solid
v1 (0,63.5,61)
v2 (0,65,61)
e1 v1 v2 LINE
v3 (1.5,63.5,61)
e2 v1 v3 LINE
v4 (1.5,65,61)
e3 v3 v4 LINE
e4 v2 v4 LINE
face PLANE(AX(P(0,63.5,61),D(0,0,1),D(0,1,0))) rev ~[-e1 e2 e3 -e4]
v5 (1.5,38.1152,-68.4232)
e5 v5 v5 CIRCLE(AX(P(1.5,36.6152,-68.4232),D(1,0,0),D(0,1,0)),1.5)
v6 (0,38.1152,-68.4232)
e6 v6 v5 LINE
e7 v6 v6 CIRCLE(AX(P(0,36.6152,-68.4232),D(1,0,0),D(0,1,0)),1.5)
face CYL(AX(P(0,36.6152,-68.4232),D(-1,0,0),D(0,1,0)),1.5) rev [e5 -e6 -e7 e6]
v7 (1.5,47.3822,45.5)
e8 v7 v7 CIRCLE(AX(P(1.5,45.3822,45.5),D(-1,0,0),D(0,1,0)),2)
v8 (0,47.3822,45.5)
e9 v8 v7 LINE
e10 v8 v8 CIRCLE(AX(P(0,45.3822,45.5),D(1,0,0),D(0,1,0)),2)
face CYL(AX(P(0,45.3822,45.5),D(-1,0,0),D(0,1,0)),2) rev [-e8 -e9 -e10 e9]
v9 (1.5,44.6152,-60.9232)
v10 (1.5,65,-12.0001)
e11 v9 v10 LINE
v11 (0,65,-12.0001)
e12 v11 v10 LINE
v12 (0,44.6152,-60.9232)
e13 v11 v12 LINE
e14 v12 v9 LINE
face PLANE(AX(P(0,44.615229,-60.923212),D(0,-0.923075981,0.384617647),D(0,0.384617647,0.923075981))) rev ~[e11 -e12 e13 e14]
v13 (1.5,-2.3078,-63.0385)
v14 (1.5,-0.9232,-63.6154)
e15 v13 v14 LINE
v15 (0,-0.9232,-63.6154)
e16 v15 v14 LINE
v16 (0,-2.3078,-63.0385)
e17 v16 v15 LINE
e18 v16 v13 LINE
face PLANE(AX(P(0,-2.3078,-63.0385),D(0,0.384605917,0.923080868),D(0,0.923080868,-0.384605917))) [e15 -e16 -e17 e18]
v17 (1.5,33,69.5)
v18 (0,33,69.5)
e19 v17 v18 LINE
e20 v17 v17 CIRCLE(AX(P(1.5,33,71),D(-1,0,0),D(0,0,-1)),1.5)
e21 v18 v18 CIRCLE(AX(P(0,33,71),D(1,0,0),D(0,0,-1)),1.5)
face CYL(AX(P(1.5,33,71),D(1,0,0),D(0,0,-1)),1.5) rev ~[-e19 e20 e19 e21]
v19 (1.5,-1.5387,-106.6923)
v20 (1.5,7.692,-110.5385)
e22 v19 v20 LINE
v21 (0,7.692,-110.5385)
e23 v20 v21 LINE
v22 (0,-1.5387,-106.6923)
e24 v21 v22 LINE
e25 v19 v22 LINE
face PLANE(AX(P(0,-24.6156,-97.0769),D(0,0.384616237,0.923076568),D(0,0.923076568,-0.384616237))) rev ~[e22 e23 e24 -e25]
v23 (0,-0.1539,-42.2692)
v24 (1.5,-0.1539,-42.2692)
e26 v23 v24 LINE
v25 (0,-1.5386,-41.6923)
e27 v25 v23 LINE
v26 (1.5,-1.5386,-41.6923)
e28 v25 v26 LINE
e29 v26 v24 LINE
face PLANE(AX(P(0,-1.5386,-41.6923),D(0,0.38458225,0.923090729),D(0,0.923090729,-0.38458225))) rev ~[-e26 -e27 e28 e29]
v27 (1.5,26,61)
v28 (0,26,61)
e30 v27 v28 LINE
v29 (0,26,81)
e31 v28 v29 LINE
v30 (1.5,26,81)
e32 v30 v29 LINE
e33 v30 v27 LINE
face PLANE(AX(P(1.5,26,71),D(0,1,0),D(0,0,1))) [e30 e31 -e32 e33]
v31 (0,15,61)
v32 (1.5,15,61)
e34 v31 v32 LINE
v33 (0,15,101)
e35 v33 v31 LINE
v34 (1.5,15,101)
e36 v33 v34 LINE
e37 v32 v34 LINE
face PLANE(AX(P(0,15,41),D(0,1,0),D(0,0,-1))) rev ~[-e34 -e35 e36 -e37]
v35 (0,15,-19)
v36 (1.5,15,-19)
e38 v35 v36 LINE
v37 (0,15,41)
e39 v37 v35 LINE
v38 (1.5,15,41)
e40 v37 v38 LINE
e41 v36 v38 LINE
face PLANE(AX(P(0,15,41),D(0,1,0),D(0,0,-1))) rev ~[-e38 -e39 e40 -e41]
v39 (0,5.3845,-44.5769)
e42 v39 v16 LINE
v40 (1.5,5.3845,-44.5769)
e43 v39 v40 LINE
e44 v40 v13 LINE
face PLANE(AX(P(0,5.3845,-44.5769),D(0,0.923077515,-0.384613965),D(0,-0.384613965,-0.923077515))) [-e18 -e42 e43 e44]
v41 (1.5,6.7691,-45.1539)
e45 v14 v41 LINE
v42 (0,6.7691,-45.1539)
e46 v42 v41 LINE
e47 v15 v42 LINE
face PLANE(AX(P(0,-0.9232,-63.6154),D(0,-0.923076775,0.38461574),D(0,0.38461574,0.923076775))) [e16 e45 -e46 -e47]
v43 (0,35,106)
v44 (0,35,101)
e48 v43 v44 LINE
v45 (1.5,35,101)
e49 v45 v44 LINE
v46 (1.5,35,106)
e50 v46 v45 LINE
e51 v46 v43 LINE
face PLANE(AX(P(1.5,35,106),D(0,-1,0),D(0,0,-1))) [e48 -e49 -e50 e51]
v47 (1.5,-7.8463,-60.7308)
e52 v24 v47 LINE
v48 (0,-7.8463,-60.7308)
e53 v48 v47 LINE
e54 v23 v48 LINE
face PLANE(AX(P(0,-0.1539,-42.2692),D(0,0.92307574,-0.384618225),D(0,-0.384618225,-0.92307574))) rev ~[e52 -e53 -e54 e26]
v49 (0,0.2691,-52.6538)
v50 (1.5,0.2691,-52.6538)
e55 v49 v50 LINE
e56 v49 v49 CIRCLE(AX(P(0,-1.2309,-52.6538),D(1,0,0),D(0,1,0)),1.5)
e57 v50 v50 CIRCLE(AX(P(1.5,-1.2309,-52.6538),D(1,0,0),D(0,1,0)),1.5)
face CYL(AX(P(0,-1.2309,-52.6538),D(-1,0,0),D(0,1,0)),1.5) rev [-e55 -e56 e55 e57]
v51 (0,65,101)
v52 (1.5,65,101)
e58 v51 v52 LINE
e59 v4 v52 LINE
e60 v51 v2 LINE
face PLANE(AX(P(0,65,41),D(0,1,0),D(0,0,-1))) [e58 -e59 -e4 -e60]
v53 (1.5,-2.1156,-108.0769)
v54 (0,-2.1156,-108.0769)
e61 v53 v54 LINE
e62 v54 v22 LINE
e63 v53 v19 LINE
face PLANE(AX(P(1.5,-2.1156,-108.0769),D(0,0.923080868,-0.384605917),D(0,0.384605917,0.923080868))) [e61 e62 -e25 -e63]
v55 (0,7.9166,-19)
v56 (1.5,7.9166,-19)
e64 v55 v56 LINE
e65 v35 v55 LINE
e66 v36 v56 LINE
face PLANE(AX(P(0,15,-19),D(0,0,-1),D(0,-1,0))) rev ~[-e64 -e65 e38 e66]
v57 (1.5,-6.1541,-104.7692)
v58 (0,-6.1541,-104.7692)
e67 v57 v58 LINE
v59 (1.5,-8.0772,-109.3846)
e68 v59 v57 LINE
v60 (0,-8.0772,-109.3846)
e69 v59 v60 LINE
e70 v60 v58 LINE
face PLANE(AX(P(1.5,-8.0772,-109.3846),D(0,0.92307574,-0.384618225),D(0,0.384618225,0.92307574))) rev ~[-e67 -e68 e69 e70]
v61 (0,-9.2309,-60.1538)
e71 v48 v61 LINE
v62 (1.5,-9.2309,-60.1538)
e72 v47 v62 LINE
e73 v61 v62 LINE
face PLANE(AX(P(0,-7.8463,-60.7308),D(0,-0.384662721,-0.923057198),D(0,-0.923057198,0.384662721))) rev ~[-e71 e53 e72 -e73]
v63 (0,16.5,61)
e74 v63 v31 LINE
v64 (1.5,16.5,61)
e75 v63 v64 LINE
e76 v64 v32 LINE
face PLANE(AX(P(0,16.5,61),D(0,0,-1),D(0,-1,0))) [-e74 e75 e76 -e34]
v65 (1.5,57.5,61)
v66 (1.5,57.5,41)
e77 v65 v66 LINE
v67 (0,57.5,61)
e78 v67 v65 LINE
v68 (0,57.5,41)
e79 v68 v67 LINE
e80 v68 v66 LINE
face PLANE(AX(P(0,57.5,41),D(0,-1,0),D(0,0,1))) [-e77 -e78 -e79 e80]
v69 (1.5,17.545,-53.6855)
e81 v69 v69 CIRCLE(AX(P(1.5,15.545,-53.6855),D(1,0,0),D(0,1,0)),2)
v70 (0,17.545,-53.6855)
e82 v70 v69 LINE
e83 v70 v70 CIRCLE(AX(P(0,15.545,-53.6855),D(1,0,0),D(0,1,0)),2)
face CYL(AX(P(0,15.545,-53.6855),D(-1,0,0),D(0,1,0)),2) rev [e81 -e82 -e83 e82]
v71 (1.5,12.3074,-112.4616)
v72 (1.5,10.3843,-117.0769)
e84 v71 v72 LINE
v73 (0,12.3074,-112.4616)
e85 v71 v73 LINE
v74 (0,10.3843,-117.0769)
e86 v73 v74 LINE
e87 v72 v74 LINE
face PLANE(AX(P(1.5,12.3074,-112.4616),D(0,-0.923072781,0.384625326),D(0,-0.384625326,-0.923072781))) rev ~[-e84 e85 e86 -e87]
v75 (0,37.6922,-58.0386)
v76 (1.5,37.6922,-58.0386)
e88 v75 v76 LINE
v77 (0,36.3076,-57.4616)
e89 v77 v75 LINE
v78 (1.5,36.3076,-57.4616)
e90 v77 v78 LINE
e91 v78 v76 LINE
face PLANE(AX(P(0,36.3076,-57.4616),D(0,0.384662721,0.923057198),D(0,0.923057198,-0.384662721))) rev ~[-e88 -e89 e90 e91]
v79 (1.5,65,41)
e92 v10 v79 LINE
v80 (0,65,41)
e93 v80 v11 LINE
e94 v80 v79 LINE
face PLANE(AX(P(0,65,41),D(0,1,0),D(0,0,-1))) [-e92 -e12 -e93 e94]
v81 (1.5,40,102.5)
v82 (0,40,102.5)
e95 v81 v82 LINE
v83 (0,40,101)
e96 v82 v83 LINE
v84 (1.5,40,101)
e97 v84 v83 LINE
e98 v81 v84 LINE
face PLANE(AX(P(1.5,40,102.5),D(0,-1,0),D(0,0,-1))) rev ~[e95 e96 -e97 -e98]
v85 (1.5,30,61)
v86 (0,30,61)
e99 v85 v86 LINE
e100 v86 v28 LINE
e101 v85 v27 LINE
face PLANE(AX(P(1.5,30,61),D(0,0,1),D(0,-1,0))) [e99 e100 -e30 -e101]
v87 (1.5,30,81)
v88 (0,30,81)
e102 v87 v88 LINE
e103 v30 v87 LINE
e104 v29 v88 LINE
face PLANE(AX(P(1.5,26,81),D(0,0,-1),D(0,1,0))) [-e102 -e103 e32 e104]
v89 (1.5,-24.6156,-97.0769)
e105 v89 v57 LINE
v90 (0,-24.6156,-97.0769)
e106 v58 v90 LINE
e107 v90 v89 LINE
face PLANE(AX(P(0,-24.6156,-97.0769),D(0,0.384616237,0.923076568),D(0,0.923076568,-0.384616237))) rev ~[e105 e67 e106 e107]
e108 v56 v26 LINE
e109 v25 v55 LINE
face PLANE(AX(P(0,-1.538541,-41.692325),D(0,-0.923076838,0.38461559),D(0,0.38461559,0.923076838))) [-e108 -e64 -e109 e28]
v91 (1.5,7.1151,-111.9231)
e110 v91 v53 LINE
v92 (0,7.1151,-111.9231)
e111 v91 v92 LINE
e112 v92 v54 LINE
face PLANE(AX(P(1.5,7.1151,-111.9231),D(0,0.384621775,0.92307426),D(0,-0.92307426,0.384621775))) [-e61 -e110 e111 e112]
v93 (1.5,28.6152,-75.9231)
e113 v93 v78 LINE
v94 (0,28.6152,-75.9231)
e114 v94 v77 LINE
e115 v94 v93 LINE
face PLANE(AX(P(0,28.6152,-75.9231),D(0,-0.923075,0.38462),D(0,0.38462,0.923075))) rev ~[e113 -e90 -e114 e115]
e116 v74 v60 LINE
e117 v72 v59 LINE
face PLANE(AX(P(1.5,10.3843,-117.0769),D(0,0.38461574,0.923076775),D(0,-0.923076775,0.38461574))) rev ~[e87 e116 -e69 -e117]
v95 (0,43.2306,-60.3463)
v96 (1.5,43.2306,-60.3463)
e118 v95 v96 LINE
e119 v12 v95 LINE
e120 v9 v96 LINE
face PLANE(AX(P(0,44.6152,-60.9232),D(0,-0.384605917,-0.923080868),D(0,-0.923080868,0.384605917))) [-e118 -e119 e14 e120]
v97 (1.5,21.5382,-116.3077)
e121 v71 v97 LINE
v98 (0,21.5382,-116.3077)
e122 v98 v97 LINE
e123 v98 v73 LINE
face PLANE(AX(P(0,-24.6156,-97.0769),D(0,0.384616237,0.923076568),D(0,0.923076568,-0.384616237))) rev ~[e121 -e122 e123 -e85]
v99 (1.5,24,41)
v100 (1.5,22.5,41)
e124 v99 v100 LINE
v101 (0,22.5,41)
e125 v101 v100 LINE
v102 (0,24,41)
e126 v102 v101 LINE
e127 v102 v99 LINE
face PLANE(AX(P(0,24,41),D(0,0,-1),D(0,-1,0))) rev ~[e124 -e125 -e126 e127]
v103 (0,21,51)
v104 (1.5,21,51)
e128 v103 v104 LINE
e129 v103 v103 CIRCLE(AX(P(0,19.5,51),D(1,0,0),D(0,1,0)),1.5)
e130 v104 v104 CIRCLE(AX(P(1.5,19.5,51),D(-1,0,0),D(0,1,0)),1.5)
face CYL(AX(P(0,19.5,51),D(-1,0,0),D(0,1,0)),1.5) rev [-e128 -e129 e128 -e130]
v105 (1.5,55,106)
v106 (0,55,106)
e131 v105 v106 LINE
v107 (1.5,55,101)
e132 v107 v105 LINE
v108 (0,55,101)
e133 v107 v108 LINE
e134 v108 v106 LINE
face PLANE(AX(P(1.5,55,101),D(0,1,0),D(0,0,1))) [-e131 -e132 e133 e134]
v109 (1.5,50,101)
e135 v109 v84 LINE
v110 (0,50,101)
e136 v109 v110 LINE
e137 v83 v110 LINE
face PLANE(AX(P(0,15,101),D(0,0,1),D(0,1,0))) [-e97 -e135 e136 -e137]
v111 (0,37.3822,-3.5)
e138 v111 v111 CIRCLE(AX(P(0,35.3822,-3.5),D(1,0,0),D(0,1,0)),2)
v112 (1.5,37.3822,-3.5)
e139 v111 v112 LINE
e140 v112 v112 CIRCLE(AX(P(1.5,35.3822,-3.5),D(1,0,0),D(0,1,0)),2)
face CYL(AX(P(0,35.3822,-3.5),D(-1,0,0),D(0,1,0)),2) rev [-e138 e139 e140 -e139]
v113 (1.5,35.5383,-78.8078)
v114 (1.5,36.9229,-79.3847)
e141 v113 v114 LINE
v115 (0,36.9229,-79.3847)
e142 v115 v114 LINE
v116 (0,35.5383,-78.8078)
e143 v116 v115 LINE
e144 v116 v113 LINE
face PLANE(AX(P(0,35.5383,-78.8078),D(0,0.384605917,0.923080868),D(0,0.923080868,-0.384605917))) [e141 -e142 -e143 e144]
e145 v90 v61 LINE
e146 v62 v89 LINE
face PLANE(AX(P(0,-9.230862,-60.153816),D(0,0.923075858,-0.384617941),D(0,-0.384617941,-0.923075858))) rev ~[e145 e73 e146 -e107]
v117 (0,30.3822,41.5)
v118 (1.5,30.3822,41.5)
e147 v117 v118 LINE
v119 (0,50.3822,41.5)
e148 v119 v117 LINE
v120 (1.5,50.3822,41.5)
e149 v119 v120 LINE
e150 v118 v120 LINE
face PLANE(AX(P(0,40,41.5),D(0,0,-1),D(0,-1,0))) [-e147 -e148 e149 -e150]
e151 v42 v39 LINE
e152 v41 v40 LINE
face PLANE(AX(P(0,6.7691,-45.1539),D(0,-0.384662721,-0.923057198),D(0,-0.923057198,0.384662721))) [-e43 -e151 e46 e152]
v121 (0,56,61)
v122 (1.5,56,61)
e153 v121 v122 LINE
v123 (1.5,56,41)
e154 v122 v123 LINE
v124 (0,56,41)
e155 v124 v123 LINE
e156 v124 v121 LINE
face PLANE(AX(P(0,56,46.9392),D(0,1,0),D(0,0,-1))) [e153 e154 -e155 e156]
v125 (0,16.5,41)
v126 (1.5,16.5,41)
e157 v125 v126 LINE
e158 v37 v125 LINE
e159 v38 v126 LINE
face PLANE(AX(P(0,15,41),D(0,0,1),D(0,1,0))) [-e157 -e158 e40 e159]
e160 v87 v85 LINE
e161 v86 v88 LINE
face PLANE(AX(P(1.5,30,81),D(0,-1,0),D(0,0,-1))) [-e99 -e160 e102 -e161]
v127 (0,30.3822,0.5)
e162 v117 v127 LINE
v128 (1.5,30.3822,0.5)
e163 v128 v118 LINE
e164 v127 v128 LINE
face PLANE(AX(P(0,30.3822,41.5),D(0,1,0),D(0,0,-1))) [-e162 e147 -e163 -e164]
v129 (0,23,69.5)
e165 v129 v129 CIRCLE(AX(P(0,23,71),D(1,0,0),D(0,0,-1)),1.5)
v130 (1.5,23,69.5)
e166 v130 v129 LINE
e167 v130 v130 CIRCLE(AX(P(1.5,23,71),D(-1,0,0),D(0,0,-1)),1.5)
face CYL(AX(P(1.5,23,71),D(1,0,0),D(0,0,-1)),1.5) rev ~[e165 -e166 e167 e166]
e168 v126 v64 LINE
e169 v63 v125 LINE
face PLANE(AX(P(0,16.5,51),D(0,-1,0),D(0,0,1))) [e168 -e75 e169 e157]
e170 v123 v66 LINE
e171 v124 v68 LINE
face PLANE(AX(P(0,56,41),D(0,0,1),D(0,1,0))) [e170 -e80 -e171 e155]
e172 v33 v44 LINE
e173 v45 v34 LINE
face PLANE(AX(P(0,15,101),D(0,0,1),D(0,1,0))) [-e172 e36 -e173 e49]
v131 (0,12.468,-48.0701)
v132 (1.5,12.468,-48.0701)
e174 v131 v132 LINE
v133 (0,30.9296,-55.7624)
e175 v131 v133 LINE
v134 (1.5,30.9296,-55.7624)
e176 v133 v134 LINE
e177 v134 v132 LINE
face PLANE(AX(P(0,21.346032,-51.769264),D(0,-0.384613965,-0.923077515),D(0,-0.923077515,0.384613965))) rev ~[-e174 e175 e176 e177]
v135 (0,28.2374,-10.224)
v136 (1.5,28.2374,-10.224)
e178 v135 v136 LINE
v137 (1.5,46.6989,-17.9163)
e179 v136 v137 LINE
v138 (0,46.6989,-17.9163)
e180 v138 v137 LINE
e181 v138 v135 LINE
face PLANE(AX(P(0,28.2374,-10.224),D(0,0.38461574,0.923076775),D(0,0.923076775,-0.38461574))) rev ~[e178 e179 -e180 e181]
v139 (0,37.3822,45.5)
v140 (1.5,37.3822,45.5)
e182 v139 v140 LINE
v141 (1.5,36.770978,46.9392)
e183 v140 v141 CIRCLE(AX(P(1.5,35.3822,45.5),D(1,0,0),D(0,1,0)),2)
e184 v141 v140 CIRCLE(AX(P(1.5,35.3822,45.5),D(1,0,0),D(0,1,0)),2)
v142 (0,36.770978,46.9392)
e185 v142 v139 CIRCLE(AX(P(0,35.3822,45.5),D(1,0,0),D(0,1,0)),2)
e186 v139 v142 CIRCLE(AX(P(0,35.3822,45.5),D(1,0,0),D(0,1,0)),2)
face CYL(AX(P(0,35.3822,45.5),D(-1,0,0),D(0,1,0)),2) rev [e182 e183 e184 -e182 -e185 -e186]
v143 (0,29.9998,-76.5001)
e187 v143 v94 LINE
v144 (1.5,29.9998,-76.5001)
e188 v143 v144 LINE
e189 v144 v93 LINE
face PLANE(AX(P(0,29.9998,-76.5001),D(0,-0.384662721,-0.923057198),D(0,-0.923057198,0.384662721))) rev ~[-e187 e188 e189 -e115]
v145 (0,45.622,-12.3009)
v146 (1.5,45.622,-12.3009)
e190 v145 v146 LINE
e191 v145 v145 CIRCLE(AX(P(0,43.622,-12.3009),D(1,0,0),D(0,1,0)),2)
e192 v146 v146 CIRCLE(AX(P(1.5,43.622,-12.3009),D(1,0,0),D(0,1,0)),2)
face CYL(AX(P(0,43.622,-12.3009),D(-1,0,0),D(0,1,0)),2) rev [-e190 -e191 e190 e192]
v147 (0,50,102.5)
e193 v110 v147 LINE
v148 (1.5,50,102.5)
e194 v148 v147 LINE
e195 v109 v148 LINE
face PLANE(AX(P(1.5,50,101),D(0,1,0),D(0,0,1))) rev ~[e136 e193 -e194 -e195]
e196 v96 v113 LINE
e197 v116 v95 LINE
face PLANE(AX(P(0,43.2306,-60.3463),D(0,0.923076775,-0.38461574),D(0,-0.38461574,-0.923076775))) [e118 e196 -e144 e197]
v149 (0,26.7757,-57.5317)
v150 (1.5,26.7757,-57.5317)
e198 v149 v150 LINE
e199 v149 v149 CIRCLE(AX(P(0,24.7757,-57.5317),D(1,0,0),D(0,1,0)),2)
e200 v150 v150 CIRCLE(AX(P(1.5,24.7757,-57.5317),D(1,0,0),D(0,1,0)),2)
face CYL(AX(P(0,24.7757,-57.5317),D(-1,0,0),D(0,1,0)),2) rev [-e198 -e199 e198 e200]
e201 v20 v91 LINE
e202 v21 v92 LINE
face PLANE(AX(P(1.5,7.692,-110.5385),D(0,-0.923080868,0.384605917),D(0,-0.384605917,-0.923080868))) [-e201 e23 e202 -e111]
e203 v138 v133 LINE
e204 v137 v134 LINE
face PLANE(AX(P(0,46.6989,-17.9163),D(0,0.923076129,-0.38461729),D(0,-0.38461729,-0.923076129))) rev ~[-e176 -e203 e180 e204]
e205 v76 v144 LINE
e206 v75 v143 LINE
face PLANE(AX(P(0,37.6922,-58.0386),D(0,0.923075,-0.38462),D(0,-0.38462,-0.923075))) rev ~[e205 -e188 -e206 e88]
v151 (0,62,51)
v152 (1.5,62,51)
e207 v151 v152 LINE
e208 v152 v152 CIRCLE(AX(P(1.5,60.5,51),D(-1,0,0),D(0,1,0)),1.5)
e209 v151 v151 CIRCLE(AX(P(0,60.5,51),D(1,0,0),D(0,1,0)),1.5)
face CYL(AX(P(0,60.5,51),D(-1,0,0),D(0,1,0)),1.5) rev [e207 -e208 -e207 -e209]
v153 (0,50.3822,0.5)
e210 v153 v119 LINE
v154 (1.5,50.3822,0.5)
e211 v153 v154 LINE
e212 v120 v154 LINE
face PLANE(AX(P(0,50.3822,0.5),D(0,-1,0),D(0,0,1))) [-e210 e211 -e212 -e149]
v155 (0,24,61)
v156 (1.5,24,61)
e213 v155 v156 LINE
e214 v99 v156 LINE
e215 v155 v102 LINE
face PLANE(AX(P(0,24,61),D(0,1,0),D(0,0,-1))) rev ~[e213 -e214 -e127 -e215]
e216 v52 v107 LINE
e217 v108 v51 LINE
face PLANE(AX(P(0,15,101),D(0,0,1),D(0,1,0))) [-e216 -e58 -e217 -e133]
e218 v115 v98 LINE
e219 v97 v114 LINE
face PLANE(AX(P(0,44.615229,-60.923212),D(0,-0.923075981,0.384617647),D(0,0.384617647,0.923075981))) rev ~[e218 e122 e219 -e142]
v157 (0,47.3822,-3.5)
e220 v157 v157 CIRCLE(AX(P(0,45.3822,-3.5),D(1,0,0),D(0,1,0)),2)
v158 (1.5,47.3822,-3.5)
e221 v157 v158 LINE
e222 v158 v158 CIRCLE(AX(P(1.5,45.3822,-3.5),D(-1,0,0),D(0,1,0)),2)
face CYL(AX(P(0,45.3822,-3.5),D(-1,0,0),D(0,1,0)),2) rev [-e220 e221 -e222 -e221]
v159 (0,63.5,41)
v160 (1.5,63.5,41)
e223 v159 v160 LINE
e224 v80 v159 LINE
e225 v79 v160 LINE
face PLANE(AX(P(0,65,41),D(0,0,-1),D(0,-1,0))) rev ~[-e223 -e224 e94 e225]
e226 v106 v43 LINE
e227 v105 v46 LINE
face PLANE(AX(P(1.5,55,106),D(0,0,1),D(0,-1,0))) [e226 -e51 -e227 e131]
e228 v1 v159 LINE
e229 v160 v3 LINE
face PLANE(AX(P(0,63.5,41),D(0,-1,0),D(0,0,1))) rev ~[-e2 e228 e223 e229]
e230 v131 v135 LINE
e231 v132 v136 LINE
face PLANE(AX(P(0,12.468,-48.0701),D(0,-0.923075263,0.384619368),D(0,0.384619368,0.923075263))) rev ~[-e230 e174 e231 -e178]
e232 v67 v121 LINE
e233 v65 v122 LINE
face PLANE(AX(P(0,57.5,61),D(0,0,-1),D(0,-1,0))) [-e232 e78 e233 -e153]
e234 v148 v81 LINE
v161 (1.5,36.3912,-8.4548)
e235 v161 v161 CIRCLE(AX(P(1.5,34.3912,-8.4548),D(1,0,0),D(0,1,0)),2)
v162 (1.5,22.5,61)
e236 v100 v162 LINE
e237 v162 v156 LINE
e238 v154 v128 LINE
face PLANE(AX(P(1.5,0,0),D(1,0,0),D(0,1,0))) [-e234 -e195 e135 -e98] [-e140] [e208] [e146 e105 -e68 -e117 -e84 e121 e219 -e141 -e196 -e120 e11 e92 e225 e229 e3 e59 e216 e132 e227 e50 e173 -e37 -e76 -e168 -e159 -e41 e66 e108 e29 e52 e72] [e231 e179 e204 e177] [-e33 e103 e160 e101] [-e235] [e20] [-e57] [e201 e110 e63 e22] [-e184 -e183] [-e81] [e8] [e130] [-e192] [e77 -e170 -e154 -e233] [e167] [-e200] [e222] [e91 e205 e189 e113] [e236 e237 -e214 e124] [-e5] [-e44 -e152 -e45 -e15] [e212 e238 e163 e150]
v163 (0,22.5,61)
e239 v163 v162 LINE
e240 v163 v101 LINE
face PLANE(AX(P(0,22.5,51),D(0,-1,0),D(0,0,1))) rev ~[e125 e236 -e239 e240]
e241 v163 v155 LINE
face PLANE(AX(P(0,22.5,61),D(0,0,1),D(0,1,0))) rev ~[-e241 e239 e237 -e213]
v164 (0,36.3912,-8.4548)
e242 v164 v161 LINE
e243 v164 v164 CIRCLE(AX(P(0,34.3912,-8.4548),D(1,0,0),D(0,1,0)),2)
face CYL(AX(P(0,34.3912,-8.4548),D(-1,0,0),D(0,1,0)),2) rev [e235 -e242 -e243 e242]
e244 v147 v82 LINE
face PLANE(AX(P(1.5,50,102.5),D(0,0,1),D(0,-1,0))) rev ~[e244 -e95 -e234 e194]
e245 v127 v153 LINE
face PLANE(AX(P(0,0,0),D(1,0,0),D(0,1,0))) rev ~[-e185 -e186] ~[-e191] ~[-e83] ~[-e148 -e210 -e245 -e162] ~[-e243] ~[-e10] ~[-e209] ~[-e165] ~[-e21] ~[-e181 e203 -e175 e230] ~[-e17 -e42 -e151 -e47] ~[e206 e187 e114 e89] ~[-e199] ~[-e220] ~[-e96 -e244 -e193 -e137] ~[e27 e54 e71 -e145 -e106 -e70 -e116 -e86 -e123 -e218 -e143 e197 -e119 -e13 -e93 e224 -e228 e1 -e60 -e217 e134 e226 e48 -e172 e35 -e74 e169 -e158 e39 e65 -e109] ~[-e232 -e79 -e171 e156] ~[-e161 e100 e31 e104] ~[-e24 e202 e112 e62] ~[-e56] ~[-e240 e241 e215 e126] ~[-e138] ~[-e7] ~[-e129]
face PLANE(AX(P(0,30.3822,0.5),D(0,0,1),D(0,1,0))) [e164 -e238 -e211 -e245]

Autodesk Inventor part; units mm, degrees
ref_plane "YZ Plane" through (0, 0, 0) normal (1, 0, 0) x (0, 1, 0)
ref_plane "XZ Plane" through (0, 0, 0) normal (0, 1, 0) x (-1, 0, 0)
ref_plane "XY Plane" through (0, 0, 0) normal (0, 0, 1) x (1, 0, 0)
sketch "Sketch1" plane through (0, 0, 0) normal (1, 0, 0) x (0, 1, 0)
  line L0 (12, -9) -> (2, -9)
  line L1 (2, -9) -> (2, 41)
  line L2 (2, 41) -> (7, 41)
  line L3 (7, 41) -> (7, 31)
  line L4 (7, 31) -> (12, 31)
  line L5 (12, 31) -> (12, -9)
  line L6 (2, 111) -> (12, 111)
  line L7 (12, 111) -> (12, 71)
  line L8 (12, 71) -> (7, 71)
  line L9 (7, 71) -> (7, 61)
  line L10 (7, 61) -> (2, 61)
  line L11 (2, 61) -> (2, 111)
  line L12 (7, 54.5) -> (7, 55)
  line L13 (7, 55) -> (62, 55)
  arc A0 (64, 57) -> (62, 55) centre (64, 55) ccw
  line L14 (64, 57) -> (65, 57)
  arc A1 (67, 55) -> (65, 57) centre (65, 55) ccw
  line L15 (67, 55) -> (102, 55)
  arc A2 (104, 57) -> (102, 55) centre (104, 55) ccw
  line L16 (104, 57) -> (105, 57)
  arc A3 (107, 55) -> (105, 57) centre (105, 55) ccw
  line L17 (107, 55) -> (107, 47)
  arc A4 (105, 45) -> (107, 47) centre (105, 47) ccw
  line L18 (105, 45) -> (104, 45)
  arc A5 (102, 47) -> (104, 45) centre (104, 47) ccw
  line L19 (102, 47) -> (67, 47)
  arc A6 (65, 45) -> (67, 47) centre (65, 47) ccw
  line L20 (65, 45) -> (64, 45)
  arc A7 (62, 47) -> (64, 45) centre (64, 47) ccw
  line L21 (62, 47) -> (7, 47)
  line L22 (7, 47) -> (7, 47.5)
  line L23 (7, 47.5) -> (-5, 47.5)
  line L24 (-5, 47.5) -> (-5, 41)
  line L25 (-5, 41) -> (0, 41)
  line L26 (0, 41) -> (0, 2.0396)
  line L27 (0, 2.0396) -> (0.3922, 1.9612)
  line L28 (0.3922, 1.9612) -> (0, 1.0198)
  line L29 (0, 1.0198) -> (0, 0)
  line L30 (0, 0) -> (-0.3922, 0.0784)
  line L31 (-0.3922, 0.0784) -> (-15.377, -35.885)
  line L32 (-15.377, -35.885) -> (-19.9924, -33.9619)
  line L33 (-19.9924, -33.9619) -> (-22.4924, -39.9619)
  line L34 (-22.4924, -39.9619) -> (-11.4155, -44.5773)
  line L35 (-11.4155, -44.5773) -> (-11.2232, -44.1158)
  line L36 (-11.2232, -44.1158) -> (39.5461, -65.2696)
  arc A8 (42.1615, -64.1927) -> (39.5461, -65.2696) centre (41.3922, -66.0388) ccw
  line L37 (42.1615, -64.1927) -> (43.0845, -64.5773)
  arc A9 (44.1615, -67.1927) -> (43.0845, -64.5773) centre (42.3153, -66.4235) ccw
  line L38 (44.1615, -67.1927) -> (76.4692, -80.6542)
  arc A10 (79.0845, -79.5773) -> (76.4692, -80.6542) centre (78.3153, -81.4235) ccw
  line L39 (79.0845, -79.5773) -> (80.0076, -79.9619)
  arc A11 (81.0845, -82.5773) -> (80.0076, -79.9619) centre (79.2384, -81.8081) ccw
  line L40 (81.0845, -82.5773) -> (78.0076, -89.9619)
  arc A12 (75.3922, -91.0388) -> (78.0076, -89.9619) centre (76.1615, -89.1927) ccw
  line L41 (75.3922, -91.0388) -> (74.4692, -90.6542)
  arc A13 (73.3922, -88.0388) -> (74.4692, -90.6542) centre (75.2384, -88.8081) ccw
  line L42 (73.3922, -88.0388) -> (41.0845, -74.5773)
  arc A14 (38.4692, -75.6542) -> (41.0845, -74.5773) centre (39.2384, -73.8081) ccw
  line L43 (38.4692, -75.6542) -> (37.5461, -75.2696)
  arc A15 (36.4692, -72.6542) -> (37.5461, -75.2696) centre (38.3153, -73.4235) ccw
  line L44 (36.4692, -72.6542) -> (-14.3001, -51.5004)
  line L45 (-14.3001, -51.5004) -> (-14.1078, -51.0388)
  line L46 (-14.1078, -51.0388) -> (-25.1847, -46.4235)
  line L47 (-25.1847, -46.4235) -> (-27.6847, -52.4235)
  line L48 (-27.6847, -52.4235) -> (-23.0693, -54.3465)
  line L49 (-23.0693, -54.3465) -> (-38.8385, -92.1927)
  line L50 (-38.8385, -92.1927) -> (-47.3001, -86.5004)
  line L51 (-47.3001, -86.5004) -> (-30.377, -45.885)
  line L52 (-30.377, -45.885) -> (-39.6078, -42.0388)
  line L53 (-39.6078, -42.0388) -> (-35.7616, -32.8081)
  line L54 (-35.7616, -32.8081) -> (-26.5308, -36.6542)
  line L55 (-26.5308, -36.6542) -> (-10, 3.0198)
  line L56 (-10, 3.0198) -> (-10, 46)
  line L57 (-10, 46) -> (-20, 46)
  line L58 (-20, 46) -> (-20, 56)
  line L59 (-20, 56) -> (-10, 56)
  line L60 (-10, 56) -> (-10, 100)
  line L61 (-10, 100) -> (0, 102)
  line L62 (0, 102) -> (0, 61)
  line L63 (0, 61) -> (-5, 61)
  line L64 (-5, 61) -> (-5, 54.5)
  line L65 (-5, 54.5) -> (7, 54.5)
  line L66 (0, 51) -> (107, 51)
  line L67 (79.5461, -86.2696) -> (-37.6847, -37.4235)
sketch "Sketch2" plane through (0, 0, 0) normal (1, 0, 0) x (0, 1, 0)
  line L0 (0, 0) -> (0, 51)
  line L1 (0, 51) -> (15, 51)
  line L2 (15, 51) -> (15, 101)
  line L3 (15, 101) -> (65, 101)
  line L4 (101.707, 46.9392) -> (84.707, 46.9392)
  line L5 (84.707, 46.9392) -> (34.707, 46.9392)
  line L6 (15, 51) -> (15, 60)
  line L7 (0, 0) -> (0, 1)
  line L8 (0, 1) -> (110.5886, -21.1178)
  line L9 (50.3822, 41.5) -> (30.3822, 41.5)
  line L10 (30.3822, 41.5) -> (30.3822, 0.5)
  line L11 (30.3822, 0.5) -> (50.3822, 0.5)
  line L12 (50.3822, 0.5) -> (50.3822, 41.5)
  line L13 (50.3822, 0.5) -> (45.3822, 0.5)
  line L14 (45.3822, 0.5) -> (45.3822, -3.5)
  line L15 (45.3822, -3.5) -> (35.3822, -3.5)
  circle A0 centre (45.3822, -3.5) radius 2
  circle A1 centre (35.3822, -3.5) radius 2
  line L16 (50.3822, 21) -> (30.3822, 21)
  circle A2 centre (45.3822, 45.5) radius 2
  circle A3 centre (35.3822, 45.5) radius 2
  line L17 (65, 101) -> (65, -12.0001)
  line L18 (0, 51) -> (107.1279, 51)
  line L19 (65, 51) -> (55, 51)
  line L20 (15, 51) -> (25, 51)
  line L21 (-5.3847, -50.9231) -> (-24.6156, -97.0769)
  line L22 (-24.6156, -97.0769) -> (21.5382, -116.3077)
  line L23 (21.5382, -116.3077) -> (65, -12.0001)
  line L24 (15, 51) -> (15, -19)
  line L25 (-5.3847, -50.9231) -> (7.9166, -19)
  line L26 (15, -19) -> (7.9166, -19)
  line L27 (30.9296, -55.7624) -> (12.468, -48.0701)
  line L28 (12.468, -48.0701) -> (28.2374, -10.224)
  line L29 (28.2374, -10.224) -> (46.6989, -17.9163)
  line L30 (46.6989, -17.9163) -> (30.9296, -55.7624)
  circle A4 centre (43.622, -12.3009) radius 2
  circle A5 centre (34.3912, -8.4548) radius 2
  circle A6 centre (24.7757, -57.5317) radius 2
  circle A7 centre (15.545, -53.6855) radius 2
  line L31 (65, 51) -> (65, 41)
  line L32 (65, 41) -> (63.5, 41)
  line L33 (63.5, 41) -> (63.5, 61)
  line L34 (63.5, 61) -> (65, 61)
  line L35 (65, 61) -> (65, 41)
  line L36 (63.5, 61) -> (57.5, 61)
  line L37 (57.5, 61) -> (56, 61)
  line L38 (56, 61) -> (56, 41)
  line L39 (56, 41) -> (57.5, 41)
  line L40 (57.5, 41) -> (57.5, 61)
  line L41 (65, 51) -> (60.5, 51)
  circle A8 centre (60.5, 51) radius 1.5
  line L42 (44.6152, -60.9232) -> (43.2306, -60.3463)
  line L43 (43.2306, -60.3463) -> (35.5383, -78.8078)
  line L44 (35.5383, -78.8078) -> (36.9229, -79.3847)
  line L45 (29.9998, -76.5001) -> (28.6152, -75.9231)
  line L46 (28.6152, -75.9231) -> (36.3076, -57.4616)
  line L47 (36.3076, -57.4616) -> (37.6922, -58.0386)
  line L48 (37.6922, -58.0386) -> (29.9998, -76.5001)
  circle A9 centre (36.6152, -68.4232) radius 1.5
  line L49 (-1.5387, -106.6923) -> (40, -7)
  line L50 (40, 101) -> (40, -7)
  line L51 (40, -68.0997) -> (40, -71.9997)
  circle A10 centre (-1.2309, -52.6538) radius 1.5
  line L52 (5.3845, -44.5769) -> (-2.3078, -63.0385)
  line L53 (-0.9232, -63.6154) -> (6.7691, -45.1539)
  line L54 (6.7691, -45.1539) -> (5.3845, -44.5769)
  line L55 (-2.3078, -63.0385) -> (-0.9232, -63.6154)
  line L56 (-0.1539, -42.2692) -> (-7.8463, -60.7308)
  line L57 (-7.8463, -60.7308) -> (-9.2309, -60.1538)
  line L58 (-1.5386, -41.6923) -> (-0.1539, -42.2692)
  line L59 (15, 41) -> (16.5, 41)
  line L60 (16.5, 41) -> (16.5, 61)
  line L61 (16.5, 61) -> (15, 61)
  line L62 (22.5, 61) -> (24, 61)
  line L63 (24, 61) -> (24, 41)
  line L64 (24, 41) -> (22.5, 41)
  line L65 (22.5, 41) -> (22.5, 61)
  circle A11 centre (19.5, 51) radius 1.5
  dimension "d0" = 51
  dimension "d1" = 15
  dimension "d2" = 50
  dimension "d3" = 50
  dimension "d11" = 17
  dimension "d12" = 50
  dimension "d23" = 9
  dimension "d34" = 1
  dimension "d35" = 78.69
  dimension "d36" = 20
  dimension "d37" = 41
  dimension "d38" = 5
  dimension "d39" = 4
  dimension "d40" = 10
  dimension "d41" = 4
  dimension "d42" = 4
  dimension "d43" = 10
  dimension "d47" = 10
  dimension "d48" = 70
  dimension "d86" = 10
  dimension "d87" = 1.5
  dimension "d88" = 20
  dimension "d89" = 6
  dimension "d90" = 1.5
  dimension "d91" = 20
  dimension "d92" = 4.5
  dimension "d93" = 3
extrude "Extrusion1" add sketch "Sketch2" along normal blind 1.5 contours L24 L59 L60 L18 A11 L65 L64 L63 L50 L9 L10 L11 L8 | L8 L49 L29 L28 L27 L22 L21 L57 L56 L58 L25 L26 L24 | L2 L61 L60 L18 | L18 L60 L59 L24 | L50 L15 A0 L14 L11 L12 L9 L5 A2 L38 L39 L40 L33 L32 L17 L8 | L8 L23 L42 L43 L44 L22 L49 L27 L30 L29 | L60 L61 L2 L3 L50 L18 L63 L62 L65 A11 | L50 L11 L14 A0 L15 | A11 L18 | L18 A11 | L32 L33 L5 L17 | L23 L51 L43 L42 | L58 L56 L57 L21 L25 | L5 L33 L18 L17 | L23 L44 L43 L51 | L3 L17 L34 L36 L37 L38 L18 L50 | L65 L62 L63 L18 | L18 L63 L64 L65 | L5 L40 L18 A8 L33 | L18 L33 L34 L17 | L18 L38 L5 A2 L50 | L40 L39 L38 L5 | L5 L38 L18 L40 | L18 A8 L40 L36 L33 | L18 L38 L37 L40 | A8 L18 | L18 A8 | L45 L46 L47 L48 | A9 | A10 | L54 L53 L55 L52
sketch "Sketch3" plane through (1.5, 0, 0) normal (1, 0, 0) x (0, 0, -1)
  line L0 (-101, 65) -> (-101, 15) projected
  line L1 (-101, 65) -> (-101, 55)
  line L2 (-101, 55) -> (-106, 55)
  line L3 (-106, 55) -> (-106, 35)
  line L4 (-106, 35) -> (-101, 35)
  line L5 (-101, 55) -> (-101, 50)
  line L6 (-101, 50) -> (-102.5, 50)
  line L7 (-102.5, 50) -> (-102.5, 40)
  line L8 (-102.5, 40) -> (-101, 40)
  line L9 (-101, 40) -> (-101, 50)
  line L10 (-1, 0) -> (21.1178, 110.5886) projected
  line L11 (116.3077, 21.5382) -> (97.0769, -24.6156)
  line L12 (112.4616, 12.3074) -> (117.0769, 10.3843)
  line L13 (117.0769, 10.3843) -> (109.3846, -8.0772)
  line L14 (109.3846, -8.0772) -> (104.7692, -6.1541)
  line L15 (110.5385, 7.692) -> (111.9231, 7.1151)
  line L16 (111.9231, 7.1151) -> (108.0769, -2.1156)
  line L17 (108.0769, -2.1156) -> (106.6923, -1.5387)
  point P0 (0, 0)
  point P1 (106.6923, -1.5387)
  dimension "d66" = 10
  dimension "d67" = 5
  dimension "d68" = 20
  dimension "d69" = 5
  dimension "d70" = 1.5
  dimension "d71" = 10
extrude "Extrusion2" add sketch "Sketch3" against normal blind 1.5 contours L0 L6 L7 L8 L4 L3 L2
extrude "Extrusion3" add sketch "Sketch3" against normal blind 1.5 contours L12 L13 L14 L11 L17 L16 L15
sketch "Sketch4" plane through (1.5, 0, 0) normal (1, 0, 0) x (0, 0, -1)
  line L0 (-101, 15) -> (19, 15) projected
  line L1 (-101, 15) -> (-101, 30)
  line L2 (-101, 35) -> (-101, 15) projected
  line L3 (-101, 30) -> (-81, 30)
  line L4 (-81, 30) -> (-61, 30)
  line L5 (-61, 30) -> (-61, 26)
  line L6 (-61, 26) -> (-81, 26)
  line L7 (-81, 26) -> (-81, 30)
  line L8 (-71, 30) -> (-71, 33)
  line L9 (-71, 33) -> (-71, 23)
  circle A0 centre (-71, 33) radius 1.5
  circle A1 centre (-71, 23) radius 1.5
  point P0 (0, 0)
  dimension "d76" = 15
  dimension "d77" = 20
  dimension "d78" = 20
  dimension "d79" = 4
  dimension "d80" = 3
  dimension "d81" = 10
  dimension "d82" = 3
  dimension "d83" = 3
extrude "Extrusion6" cut sketch "Sketch2" along normal blind 1.5 contours L2 L61 L60 L18 | L18 L60 L59 L24 | A11 L18 | L18 A11 | L32 L33 L5 L17 | L58 L56 L57 L21 L25 | L5 L33 L18 L17 | L65 L62 L63 L18 | L18 L63 L64 L65 | L18 L33 L34 L17 | L40 L39 L38 L5 | L5 L38 L18 L40 | L18 L38 L37 L40 | A8 L18 | L18 A8 | A10 | L54 L53 L55 L52
extrude "Extrusion7" cut sketch "Sketch2" along normal blind 1.5 contours L23 L51 L43 L42 | L23 L44 L43 L51 | L45 L46 L47 L48 | A9
extrude "Extrusion8" cut sketch "Sketch4" against normal blind 1.5 contours A0 | L4 L9 L6 L7 | L4 L5 L6 L9
extrude "Extrusion9" cut sketch "Sketch4" against normal blind 10 contours A1
properties part number "centralFinal"
